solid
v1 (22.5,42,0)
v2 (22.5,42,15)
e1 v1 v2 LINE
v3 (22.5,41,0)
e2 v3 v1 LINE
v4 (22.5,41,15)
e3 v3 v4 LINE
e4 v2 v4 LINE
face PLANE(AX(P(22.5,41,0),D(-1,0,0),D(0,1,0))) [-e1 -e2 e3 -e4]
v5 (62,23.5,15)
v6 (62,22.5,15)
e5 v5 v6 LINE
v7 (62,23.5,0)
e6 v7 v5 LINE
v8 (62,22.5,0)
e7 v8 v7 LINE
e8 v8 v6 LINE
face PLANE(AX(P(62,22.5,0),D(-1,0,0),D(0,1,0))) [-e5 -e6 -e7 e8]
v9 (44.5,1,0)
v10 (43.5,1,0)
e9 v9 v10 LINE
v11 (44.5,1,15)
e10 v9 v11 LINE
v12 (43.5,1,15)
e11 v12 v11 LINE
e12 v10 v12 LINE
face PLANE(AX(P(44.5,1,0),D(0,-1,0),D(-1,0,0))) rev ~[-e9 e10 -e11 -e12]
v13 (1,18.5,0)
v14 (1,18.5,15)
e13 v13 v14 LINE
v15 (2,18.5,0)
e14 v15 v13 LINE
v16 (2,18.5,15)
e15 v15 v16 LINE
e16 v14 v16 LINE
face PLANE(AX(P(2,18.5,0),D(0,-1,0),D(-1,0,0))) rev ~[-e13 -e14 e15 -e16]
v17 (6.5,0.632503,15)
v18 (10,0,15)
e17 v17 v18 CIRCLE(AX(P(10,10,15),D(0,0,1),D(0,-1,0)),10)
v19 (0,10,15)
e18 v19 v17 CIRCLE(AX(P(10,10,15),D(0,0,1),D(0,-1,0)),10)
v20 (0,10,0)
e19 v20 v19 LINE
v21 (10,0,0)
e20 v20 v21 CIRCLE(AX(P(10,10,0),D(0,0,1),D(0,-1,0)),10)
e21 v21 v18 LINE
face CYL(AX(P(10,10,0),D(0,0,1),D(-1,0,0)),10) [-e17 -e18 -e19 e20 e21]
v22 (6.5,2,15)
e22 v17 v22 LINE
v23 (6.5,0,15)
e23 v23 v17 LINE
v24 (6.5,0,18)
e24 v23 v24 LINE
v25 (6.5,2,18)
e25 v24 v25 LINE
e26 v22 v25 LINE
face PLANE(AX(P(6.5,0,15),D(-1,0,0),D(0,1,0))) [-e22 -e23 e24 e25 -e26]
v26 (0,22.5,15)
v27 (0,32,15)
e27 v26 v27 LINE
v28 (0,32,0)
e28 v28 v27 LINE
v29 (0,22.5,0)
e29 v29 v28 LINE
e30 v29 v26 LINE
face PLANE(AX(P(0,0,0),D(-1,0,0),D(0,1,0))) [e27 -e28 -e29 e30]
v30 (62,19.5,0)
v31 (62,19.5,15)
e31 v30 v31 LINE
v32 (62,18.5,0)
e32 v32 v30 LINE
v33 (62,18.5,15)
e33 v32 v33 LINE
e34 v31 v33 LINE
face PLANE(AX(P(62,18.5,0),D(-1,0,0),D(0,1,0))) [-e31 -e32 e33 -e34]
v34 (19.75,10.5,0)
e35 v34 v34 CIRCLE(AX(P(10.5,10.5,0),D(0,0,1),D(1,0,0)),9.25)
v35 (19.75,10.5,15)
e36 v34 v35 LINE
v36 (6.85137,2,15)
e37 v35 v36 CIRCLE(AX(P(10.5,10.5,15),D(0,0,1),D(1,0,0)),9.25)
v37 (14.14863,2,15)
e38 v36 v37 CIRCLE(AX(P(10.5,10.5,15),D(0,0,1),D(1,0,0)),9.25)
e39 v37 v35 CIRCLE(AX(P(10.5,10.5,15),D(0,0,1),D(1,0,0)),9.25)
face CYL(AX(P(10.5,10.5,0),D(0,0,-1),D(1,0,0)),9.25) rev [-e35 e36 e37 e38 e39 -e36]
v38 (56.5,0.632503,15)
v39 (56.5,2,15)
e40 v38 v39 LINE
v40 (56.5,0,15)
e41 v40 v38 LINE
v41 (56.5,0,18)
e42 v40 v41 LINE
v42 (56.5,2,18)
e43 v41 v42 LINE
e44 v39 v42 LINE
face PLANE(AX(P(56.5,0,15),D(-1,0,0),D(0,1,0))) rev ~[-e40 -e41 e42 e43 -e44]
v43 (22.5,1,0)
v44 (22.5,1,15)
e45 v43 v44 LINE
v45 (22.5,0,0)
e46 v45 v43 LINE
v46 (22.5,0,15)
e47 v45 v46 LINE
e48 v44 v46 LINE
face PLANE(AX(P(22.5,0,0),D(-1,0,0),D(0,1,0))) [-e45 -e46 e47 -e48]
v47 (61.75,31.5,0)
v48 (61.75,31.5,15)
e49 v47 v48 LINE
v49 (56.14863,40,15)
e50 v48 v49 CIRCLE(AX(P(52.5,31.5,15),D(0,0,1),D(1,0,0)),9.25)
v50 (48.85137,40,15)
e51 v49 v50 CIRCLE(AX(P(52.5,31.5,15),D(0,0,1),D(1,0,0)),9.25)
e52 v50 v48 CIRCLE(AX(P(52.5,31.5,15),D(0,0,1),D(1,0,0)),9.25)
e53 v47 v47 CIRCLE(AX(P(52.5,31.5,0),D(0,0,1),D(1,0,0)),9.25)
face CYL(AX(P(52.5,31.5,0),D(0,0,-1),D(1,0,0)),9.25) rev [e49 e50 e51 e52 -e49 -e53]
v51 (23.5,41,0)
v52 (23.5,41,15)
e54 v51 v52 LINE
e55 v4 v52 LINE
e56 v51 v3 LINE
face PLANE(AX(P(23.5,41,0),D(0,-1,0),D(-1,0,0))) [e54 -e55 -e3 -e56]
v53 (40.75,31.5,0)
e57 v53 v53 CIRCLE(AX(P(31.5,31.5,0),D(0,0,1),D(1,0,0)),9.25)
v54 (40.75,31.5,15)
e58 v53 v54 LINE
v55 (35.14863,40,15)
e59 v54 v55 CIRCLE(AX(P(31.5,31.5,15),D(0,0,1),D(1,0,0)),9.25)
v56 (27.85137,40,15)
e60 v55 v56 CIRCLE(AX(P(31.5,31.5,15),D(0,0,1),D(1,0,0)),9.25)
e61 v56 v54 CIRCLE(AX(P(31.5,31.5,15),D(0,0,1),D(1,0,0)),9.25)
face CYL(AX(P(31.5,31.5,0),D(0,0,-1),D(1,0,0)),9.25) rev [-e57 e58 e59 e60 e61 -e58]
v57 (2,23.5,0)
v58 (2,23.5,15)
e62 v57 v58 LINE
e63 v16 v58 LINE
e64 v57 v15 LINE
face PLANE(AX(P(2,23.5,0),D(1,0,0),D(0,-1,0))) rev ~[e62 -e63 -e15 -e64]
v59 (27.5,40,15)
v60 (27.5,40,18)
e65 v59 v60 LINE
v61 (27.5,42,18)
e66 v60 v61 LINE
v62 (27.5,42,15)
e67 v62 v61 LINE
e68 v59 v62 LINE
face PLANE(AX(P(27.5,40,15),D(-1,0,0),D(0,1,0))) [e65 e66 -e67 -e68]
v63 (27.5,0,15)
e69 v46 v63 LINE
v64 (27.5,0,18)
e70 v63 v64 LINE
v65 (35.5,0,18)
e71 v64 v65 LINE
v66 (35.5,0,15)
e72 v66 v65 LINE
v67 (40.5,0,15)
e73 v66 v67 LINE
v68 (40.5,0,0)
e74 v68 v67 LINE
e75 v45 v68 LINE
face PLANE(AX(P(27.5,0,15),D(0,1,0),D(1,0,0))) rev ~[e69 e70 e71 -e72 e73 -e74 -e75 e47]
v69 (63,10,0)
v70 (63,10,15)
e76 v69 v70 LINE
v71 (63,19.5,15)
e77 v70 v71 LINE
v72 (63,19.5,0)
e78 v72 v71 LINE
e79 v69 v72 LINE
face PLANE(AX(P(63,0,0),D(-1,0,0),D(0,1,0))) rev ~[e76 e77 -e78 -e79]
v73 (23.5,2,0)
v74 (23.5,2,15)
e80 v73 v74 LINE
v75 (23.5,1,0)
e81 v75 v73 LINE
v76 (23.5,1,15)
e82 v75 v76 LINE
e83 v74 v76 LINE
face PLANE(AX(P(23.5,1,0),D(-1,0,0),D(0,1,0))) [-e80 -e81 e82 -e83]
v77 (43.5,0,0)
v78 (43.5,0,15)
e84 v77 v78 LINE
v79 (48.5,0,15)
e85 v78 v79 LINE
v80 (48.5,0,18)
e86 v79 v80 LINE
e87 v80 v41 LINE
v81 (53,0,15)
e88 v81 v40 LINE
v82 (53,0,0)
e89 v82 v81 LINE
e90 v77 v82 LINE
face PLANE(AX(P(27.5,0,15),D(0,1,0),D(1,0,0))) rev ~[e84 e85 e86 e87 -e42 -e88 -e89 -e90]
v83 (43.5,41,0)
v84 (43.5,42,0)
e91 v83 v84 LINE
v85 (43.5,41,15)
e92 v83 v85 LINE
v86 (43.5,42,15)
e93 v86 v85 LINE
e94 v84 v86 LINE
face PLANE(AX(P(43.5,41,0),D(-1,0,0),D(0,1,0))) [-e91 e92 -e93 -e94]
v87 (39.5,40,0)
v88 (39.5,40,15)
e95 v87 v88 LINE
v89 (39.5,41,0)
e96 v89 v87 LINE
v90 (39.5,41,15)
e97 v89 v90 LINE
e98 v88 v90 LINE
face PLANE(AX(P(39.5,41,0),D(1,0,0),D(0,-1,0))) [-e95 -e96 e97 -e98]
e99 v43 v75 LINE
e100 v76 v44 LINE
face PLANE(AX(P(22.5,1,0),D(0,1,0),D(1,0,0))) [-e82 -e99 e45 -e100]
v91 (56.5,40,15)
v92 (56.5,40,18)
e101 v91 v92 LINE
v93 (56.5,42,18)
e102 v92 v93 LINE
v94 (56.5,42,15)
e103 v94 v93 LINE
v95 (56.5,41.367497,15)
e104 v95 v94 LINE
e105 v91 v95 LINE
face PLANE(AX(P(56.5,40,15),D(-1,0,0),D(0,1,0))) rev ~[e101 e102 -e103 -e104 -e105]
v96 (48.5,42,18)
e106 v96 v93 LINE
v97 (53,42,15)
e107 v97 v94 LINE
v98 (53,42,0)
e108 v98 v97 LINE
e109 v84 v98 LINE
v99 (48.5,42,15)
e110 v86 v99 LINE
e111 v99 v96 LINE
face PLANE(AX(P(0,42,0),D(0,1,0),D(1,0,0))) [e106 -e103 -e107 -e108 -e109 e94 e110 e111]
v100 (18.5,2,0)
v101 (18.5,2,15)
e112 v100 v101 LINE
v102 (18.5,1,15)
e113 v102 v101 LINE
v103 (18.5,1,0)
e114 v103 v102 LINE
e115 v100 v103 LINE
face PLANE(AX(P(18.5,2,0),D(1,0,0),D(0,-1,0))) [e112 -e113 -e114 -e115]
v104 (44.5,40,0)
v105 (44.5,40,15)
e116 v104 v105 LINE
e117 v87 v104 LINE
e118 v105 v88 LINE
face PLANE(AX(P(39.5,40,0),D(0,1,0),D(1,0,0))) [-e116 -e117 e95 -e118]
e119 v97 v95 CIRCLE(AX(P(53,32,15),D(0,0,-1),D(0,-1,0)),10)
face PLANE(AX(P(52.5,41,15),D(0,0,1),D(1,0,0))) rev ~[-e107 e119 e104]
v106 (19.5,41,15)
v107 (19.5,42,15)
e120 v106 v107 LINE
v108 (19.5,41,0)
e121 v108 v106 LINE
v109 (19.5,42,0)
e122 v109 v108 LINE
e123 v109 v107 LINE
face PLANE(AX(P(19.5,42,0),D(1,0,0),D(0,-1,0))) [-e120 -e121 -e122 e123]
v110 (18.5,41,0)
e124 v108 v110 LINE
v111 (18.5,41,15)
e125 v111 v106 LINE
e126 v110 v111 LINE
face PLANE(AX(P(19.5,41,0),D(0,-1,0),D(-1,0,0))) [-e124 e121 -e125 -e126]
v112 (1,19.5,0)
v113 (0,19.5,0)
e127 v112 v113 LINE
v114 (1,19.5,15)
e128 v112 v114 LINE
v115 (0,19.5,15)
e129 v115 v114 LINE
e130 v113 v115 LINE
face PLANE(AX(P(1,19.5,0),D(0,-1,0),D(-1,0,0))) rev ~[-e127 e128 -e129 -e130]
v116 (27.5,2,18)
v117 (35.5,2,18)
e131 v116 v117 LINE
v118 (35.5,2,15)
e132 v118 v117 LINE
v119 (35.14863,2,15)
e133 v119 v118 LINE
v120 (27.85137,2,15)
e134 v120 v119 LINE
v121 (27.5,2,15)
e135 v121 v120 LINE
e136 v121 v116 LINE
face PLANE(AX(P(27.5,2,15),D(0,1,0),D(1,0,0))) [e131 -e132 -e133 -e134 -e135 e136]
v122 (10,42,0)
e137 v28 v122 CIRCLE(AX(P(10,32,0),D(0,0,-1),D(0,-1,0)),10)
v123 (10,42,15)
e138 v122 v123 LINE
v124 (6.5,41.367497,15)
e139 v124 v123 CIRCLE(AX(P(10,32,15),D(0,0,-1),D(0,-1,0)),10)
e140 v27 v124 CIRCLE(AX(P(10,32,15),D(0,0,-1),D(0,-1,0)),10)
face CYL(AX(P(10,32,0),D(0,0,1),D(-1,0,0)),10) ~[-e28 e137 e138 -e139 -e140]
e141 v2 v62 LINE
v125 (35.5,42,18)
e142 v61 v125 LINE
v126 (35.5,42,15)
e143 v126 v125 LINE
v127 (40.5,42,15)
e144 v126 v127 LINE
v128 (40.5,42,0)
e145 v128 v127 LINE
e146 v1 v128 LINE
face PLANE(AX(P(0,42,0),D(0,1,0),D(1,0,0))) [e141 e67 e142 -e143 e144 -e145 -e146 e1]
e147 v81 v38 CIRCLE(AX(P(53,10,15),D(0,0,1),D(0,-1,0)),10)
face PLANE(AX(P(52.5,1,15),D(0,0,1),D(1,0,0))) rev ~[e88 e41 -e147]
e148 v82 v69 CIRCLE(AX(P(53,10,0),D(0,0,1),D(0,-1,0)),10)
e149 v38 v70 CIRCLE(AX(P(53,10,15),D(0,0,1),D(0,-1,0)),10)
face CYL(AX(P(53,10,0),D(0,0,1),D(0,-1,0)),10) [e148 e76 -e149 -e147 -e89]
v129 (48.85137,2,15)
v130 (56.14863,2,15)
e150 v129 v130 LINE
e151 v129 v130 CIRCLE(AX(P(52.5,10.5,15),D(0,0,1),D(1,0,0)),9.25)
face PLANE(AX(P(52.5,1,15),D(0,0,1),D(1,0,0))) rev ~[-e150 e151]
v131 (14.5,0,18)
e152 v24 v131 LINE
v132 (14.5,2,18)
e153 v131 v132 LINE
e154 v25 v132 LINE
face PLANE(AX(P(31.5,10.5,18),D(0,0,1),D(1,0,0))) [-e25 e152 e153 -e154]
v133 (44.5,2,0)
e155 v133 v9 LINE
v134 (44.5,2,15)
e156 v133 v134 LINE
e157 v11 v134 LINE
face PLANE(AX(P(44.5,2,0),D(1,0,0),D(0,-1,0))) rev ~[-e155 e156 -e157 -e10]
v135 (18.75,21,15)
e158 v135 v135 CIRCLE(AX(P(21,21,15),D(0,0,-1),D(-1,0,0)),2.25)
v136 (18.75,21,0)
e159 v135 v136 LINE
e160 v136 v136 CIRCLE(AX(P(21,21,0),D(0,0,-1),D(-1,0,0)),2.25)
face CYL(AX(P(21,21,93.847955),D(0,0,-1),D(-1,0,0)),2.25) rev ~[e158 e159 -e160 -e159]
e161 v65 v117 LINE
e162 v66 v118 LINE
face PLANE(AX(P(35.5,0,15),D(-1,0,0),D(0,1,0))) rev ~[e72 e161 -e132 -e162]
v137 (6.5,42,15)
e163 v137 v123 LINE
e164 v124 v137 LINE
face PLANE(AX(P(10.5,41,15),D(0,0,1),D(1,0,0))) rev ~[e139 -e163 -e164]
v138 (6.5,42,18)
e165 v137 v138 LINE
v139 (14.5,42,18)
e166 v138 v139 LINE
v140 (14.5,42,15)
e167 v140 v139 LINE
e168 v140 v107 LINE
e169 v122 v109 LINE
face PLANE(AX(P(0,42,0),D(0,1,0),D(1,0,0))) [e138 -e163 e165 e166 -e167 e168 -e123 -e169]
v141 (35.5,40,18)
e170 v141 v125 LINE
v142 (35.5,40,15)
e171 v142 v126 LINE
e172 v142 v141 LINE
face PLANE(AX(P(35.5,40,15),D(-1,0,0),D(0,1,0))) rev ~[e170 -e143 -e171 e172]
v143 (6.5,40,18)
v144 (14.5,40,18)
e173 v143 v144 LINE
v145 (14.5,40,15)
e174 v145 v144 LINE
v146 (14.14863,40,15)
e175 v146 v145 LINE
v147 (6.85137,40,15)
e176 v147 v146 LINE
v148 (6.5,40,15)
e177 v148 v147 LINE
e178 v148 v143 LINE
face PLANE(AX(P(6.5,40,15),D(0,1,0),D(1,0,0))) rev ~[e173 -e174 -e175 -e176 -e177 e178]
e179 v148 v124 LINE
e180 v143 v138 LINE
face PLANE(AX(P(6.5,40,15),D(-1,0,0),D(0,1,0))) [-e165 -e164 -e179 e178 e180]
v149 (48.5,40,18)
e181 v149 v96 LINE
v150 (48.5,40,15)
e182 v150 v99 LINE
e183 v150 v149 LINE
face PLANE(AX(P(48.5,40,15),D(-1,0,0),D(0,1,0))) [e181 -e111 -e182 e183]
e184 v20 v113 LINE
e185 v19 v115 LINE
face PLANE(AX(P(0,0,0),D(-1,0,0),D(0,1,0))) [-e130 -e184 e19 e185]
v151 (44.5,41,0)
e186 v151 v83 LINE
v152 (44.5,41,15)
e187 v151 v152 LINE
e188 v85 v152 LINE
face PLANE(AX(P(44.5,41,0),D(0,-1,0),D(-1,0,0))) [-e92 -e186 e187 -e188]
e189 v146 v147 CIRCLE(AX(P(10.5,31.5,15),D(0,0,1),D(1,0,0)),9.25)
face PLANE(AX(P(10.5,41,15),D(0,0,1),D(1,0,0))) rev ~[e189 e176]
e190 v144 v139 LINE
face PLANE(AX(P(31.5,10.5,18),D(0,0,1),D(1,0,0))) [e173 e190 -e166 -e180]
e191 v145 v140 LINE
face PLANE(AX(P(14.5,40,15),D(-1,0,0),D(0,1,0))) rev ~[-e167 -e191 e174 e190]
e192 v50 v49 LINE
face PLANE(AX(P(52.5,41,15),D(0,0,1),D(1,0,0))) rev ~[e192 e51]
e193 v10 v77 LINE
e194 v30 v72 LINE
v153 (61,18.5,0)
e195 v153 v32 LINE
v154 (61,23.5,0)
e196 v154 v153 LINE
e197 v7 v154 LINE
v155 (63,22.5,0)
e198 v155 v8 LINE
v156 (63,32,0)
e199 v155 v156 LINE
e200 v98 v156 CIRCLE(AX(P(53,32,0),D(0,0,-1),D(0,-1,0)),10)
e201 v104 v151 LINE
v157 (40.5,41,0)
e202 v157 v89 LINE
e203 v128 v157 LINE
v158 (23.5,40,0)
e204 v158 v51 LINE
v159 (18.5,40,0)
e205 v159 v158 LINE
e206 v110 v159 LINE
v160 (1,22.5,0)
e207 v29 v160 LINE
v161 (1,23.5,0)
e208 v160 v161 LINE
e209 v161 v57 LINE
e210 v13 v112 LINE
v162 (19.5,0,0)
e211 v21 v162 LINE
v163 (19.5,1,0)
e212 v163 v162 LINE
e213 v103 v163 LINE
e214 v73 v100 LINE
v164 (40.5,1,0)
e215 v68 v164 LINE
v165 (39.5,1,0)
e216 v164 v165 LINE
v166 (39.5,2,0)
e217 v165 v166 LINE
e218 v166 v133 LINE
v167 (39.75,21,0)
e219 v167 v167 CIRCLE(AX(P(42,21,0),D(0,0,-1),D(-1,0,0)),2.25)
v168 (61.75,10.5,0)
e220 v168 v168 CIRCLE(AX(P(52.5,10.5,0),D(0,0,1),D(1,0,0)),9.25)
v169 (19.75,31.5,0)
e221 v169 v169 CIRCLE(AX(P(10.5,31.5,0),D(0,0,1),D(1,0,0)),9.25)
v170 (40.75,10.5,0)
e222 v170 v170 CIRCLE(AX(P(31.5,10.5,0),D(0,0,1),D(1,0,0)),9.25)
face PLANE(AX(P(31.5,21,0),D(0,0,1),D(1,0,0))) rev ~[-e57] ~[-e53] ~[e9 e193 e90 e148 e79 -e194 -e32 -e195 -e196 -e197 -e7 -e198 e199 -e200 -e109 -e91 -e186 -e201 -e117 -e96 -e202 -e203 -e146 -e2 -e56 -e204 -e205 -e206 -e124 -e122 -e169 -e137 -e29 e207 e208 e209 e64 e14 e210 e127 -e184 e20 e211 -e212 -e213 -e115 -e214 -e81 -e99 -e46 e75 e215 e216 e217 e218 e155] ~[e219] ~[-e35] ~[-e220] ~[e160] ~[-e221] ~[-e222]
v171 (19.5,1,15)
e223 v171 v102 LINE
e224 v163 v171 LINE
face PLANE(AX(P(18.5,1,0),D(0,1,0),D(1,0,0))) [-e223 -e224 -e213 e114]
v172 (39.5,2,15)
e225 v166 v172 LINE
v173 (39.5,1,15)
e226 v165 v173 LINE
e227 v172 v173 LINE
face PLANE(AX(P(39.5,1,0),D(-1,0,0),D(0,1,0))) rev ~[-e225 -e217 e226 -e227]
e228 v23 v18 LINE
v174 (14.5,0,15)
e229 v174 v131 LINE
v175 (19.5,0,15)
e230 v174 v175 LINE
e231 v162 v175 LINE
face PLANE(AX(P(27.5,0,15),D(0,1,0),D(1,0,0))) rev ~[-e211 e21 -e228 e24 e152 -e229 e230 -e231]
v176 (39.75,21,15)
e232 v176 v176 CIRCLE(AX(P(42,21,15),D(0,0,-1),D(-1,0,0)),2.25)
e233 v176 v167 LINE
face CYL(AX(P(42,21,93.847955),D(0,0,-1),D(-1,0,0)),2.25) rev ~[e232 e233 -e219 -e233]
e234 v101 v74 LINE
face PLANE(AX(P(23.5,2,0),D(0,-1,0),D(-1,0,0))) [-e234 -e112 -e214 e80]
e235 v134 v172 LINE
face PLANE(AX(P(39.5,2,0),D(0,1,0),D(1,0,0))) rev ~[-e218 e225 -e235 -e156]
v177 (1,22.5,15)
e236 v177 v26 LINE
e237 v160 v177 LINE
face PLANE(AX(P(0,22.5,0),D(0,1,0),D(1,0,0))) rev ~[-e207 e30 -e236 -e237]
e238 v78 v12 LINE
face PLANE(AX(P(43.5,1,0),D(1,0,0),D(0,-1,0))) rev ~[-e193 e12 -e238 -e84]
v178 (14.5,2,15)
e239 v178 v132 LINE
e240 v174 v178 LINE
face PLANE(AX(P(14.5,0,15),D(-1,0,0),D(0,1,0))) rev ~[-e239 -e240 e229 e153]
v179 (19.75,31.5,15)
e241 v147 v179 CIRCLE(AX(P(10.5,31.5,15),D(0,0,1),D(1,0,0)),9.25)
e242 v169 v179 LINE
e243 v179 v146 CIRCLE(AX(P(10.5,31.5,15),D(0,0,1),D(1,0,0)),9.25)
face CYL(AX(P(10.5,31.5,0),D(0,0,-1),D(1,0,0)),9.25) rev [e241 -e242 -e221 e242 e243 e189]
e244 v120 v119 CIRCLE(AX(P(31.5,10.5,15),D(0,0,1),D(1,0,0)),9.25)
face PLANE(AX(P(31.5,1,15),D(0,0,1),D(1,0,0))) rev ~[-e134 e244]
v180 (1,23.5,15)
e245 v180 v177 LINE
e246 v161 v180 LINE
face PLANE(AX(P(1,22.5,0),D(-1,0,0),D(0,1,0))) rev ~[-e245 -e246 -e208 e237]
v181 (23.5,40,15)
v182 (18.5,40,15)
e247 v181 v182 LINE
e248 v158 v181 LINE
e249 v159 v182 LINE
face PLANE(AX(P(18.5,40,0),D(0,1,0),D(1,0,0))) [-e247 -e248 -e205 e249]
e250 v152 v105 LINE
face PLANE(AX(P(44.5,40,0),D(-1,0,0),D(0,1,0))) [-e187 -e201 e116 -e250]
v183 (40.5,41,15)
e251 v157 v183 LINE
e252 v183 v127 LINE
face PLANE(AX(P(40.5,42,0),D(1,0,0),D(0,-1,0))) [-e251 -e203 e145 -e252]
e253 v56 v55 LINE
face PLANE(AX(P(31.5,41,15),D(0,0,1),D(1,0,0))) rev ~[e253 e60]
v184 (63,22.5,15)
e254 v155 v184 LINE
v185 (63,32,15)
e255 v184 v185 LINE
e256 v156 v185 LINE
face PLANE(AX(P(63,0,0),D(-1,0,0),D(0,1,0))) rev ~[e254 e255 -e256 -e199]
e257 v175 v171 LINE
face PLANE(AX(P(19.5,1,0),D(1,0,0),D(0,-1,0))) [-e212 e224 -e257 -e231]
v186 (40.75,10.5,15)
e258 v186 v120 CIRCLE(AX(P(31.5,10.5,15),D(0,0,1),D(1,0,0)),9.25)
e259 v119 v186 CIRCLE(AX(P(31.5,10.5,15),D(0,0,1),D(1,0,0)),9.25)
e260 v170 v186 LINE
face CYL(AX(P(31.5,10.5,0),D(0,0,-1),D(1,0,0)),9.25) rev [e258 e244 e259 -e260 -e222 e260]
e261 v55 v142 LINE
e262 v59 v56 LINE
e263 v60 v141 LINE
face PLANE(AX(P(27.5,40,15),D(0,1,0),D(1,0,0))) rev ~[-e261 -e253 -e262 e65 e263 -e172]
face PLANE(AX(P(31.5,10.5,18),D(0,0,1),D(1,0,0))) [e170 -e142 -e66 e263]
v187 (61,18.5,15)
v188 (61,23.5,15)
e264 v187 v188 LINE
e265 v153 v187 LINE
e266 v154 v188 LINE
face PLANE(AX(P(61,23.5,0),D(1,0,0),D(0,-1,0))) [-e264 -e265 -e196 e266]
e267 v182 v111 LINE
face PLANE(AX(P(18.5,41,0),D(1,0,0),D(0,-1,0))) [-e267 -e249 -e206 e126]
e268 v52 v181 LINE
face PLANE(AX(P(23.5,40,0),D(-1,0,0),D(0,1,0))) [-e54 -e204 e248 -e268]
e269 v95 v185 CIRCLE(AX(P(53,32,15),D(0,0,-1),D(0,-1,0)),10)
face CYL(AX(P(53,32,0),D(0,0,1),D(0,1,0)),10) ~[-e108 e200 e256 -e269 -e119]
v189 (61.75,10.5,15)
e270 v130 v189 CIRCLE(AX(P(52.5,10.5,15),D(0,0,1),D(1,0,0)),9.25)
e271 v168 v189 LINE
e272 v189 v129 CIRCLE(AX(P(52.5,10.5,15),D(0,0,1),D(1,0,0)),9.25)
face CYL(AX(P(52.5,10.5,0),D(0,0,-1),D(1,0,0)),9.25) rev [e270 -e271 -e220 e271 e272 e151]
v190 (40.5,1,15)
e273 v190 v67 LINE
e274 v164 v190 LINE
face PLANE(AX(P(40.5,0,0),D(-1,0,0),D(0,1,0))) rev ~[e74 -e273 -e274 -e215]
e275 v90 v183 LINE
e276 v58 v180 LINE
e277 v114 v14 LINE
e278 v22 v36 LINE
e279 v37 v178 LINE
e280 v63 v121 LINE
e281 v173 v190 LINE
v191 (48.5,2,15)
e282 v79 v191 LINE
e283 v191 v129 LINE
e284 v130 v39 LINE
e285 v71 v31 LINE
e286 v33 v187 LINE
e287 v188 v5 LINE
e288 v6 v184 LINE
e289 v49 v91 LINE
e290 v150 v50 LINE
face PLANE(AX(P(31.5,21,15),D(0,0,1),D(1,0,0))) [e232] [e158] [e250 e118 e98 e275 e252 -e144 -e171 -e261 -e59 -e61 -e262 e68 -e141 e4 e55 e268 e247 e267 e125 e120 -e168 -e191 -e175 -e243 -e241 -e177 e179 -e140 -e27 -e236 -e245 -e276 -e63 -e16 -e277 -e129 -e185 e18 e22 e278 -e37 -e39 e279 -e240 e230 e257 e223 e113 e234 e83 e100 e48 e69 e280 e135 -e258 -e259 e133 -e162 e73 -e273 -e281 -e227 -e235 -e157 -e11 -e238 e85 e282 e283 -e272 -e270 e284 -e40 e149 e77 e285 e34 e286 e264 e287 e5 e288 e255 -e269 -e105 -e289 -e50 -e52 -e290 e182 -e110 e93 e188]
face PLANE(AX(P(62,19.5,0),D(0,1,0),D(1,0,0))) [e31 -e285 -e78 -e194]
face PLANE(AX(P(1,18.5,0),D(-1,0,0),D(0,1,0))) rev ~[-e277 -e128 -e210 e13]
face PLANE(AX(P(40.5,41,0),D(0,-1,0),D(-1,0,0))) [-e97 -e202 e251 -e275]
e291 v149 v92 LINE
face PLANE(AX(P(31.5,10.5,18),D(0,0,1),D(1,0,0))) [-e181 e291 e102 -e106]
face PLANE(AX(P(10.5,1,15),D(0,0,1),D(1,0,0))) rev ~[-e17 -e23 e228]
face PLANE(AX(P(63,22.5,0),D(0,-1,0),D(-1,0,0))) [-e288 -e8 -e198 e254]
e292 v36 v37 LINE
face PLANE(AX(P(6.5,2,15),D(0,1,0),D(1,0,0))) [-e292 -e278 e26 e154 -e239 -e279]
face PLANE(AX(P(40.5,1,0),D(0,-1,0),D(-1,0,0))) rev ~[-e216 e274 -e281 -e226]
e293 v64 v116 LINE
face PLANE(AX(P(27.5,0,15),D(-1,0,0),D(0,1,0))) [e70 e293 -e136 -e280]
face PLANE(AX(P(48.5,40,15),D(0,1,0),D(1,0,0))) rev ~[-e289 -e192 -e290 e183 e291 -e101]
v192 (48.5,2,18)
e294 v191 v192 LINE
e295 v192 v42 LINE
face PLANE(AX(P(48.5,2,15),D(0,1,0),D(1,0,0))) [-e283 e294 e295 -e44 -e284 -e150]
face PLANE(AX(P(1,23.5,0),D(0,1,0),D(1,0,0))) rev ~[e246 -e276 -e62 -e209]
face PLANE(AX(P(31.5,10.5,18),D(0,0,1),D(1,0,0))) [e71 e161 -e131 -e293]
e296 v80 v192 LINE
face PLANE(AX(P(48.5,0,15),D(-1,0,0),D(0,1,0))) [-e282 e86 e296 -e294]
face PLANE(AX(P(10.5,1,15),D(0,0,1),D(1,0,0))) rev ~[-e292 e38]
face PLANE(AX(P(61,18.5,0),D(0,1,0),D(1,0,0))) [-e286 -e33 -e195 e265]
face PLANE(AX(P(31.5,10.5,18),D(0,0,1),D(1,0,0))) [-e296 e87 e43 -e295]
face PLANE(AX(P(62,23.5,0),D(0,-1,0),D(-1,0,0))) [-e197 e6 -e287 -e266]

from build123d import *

# Parameters (mm, degrees)
SKETCH1_W            = 63
SKETCH1_H            = 42
SKETCH1_R            = 9.25
BOSS_EXTRUDE1_DEPTH  = 15
FILLET1_R            = 10
SKETCH3_W            = 8
SKETCH3_H            = 2
BOSS_EXTRUDE2_DEPTH  = 7
M4_CLEARANCE_HOLE1_D = 4.5
CUT_EXTRUDE1_DEPTH   = 23
SKETCH7_W            = 116.08326012
SKETCH7_H            = 87.262251834
CUT_EXTRUDE2_DEPTH   = 4


with BuildPart() as part:
    # Sketch1 → Boss-Extrude1 (new body)
    with BuildSketch(Plane.XY):
        with Locations((31.5, 21)):
            Rectangle(SKETCH1_W, SKETCH1_H)
        with Locations((10.5, 31.5)):
            Circle(SKETCH1_R, mode=Mode.SUBTRACT)
        with Locations((10.5, 10.5)):
            Circle(SKETCH1_R, mode=Mode.SUBTRACT)
        with Locations((52.5, 31.5)):
            Circle(SKETCH1_R, mode=Mode.SUBTRACT)
        with Locations((52.5, 10.5)):
            Circle(SKETCH1_R, mode=Mode.SUBTRACT)
        with Locations((31.5, 31.5)):
            Circle(SKETCH1_R, mode=Mode.SUBTRACT)
        with Locations((31.5, 10.5)):
            Circle(SKETCH1_R, mode=Mode.SUBTRACT)
    extrude(amount=BOSS_EXTRUDE1_DEPTH)

    # Fillet1
    fillet1_edges = [part.edges().sort_by_distance(p)[0] for p in [
        (0, 42, 7.5),
        (63, 42, 7.5),
        (63, 0, 7.5),
        (0, 0, 7.5),
    ]]
    fillet(fillet1_edges, radius=FILLET1_R)

    # Sketch3 → Boss-Extrude2 (add)
    with BuildSketch(Plane.XY.offset(15)):
        with Locations((31.5, 1)):
            Rectangle(SKETCH3_W, SKETCH3_H)
        with Locations((52.5, 1)):
            Rectangle(SKETCH3_W, SKETCH3_H)
        with Locations((10.5, 1)):
            Rectangle(SKETCH3_W, SKETCH3_H)
        with Locations((10.5, 41)):
            Rectangle(SKETCH3_W, SKETCH3_H)
        with Locations((31.5, 41)):
            Rectangle(SKETCH3_W, SKETCH3_H)
        with Locations((52.5, 41)):
            Rectangle(SKETCH3_W, SKETCH3_H)
    extrude(amount=BOSS_EXTRUDE2_DEPTH)

    # M4 Clearance Hole1 (through all)
    with Locations(Plane.XY.offset(15)):
        with Locations((21, 21), (42, 21)):
            Hole(M4_CLEARANCE_HOLE1_D / 2)

    # Sketch6 → Cut-Extrude1 (cut, through all)
    with BuildSketch(Plane(origin=(0, 0, 0), x_dir=(-1, 0, 0), z_dir=(0, 0, -1))):
        Polygon((-40.5, 41), (-39.5, 41), (-39.5, 40), (-44.5, 40), (-44.5, 41), (-43.5, 41), (-43.5, 42), (-40.5, 42), align=None)
        Polygon((-19.5, 41), (-18.5, 41), (-18.5, 40), (-23.5, 40), (-23.5, 41), (-22.5, 41), (-22.5, 42), (-19.5, 42), align=None)
        Polygon((-44.5, 1), (-43.5, 1), (-43.5, 0), (-40.5, 0), (-40.5, 1), (-39.5, 1), (-39.5, 2), (-44.5, 2), align=None)
        Polygon((-18.5, 2), (-18.5, 1), (-19.5, 1), (-19.5, 0), (-22.5, 0), (-22.5, 1), (-23.5, 1), (-23.5, 2), align=None)
        Polygon((-62, 19.5), (-63, 19.5), (-63, 22.5), (-62, 22.5), (-62, 23.5), (-61, 23.5), (-61, 18.5), (-62, 18.5), align=None)
        Polygon((-1, 22.5), (-1, 23.5), (-2, 23.5), (-2, 18.5), (-1, 18.5), (-1, 19.5), (0, 19.5), (0, 22.5), align=None)
    extrude(amount=-CUT_EXTRUDE1_DEPTH, mode=Mode.SUBTRACT)

    # Sketch7 → Cut-Extrude2 (cut)
    with BuildSketch(Plane.XY.offset(22)):
        with Locations((31.5, 10.5)):
            Rectangle(SKETCH7_W, SKETCH7_H)
    extrude(amount=-CUT_EXTRUDE2_DEPTH, mode=Mode.SUBTRACT)


solid = part.part
